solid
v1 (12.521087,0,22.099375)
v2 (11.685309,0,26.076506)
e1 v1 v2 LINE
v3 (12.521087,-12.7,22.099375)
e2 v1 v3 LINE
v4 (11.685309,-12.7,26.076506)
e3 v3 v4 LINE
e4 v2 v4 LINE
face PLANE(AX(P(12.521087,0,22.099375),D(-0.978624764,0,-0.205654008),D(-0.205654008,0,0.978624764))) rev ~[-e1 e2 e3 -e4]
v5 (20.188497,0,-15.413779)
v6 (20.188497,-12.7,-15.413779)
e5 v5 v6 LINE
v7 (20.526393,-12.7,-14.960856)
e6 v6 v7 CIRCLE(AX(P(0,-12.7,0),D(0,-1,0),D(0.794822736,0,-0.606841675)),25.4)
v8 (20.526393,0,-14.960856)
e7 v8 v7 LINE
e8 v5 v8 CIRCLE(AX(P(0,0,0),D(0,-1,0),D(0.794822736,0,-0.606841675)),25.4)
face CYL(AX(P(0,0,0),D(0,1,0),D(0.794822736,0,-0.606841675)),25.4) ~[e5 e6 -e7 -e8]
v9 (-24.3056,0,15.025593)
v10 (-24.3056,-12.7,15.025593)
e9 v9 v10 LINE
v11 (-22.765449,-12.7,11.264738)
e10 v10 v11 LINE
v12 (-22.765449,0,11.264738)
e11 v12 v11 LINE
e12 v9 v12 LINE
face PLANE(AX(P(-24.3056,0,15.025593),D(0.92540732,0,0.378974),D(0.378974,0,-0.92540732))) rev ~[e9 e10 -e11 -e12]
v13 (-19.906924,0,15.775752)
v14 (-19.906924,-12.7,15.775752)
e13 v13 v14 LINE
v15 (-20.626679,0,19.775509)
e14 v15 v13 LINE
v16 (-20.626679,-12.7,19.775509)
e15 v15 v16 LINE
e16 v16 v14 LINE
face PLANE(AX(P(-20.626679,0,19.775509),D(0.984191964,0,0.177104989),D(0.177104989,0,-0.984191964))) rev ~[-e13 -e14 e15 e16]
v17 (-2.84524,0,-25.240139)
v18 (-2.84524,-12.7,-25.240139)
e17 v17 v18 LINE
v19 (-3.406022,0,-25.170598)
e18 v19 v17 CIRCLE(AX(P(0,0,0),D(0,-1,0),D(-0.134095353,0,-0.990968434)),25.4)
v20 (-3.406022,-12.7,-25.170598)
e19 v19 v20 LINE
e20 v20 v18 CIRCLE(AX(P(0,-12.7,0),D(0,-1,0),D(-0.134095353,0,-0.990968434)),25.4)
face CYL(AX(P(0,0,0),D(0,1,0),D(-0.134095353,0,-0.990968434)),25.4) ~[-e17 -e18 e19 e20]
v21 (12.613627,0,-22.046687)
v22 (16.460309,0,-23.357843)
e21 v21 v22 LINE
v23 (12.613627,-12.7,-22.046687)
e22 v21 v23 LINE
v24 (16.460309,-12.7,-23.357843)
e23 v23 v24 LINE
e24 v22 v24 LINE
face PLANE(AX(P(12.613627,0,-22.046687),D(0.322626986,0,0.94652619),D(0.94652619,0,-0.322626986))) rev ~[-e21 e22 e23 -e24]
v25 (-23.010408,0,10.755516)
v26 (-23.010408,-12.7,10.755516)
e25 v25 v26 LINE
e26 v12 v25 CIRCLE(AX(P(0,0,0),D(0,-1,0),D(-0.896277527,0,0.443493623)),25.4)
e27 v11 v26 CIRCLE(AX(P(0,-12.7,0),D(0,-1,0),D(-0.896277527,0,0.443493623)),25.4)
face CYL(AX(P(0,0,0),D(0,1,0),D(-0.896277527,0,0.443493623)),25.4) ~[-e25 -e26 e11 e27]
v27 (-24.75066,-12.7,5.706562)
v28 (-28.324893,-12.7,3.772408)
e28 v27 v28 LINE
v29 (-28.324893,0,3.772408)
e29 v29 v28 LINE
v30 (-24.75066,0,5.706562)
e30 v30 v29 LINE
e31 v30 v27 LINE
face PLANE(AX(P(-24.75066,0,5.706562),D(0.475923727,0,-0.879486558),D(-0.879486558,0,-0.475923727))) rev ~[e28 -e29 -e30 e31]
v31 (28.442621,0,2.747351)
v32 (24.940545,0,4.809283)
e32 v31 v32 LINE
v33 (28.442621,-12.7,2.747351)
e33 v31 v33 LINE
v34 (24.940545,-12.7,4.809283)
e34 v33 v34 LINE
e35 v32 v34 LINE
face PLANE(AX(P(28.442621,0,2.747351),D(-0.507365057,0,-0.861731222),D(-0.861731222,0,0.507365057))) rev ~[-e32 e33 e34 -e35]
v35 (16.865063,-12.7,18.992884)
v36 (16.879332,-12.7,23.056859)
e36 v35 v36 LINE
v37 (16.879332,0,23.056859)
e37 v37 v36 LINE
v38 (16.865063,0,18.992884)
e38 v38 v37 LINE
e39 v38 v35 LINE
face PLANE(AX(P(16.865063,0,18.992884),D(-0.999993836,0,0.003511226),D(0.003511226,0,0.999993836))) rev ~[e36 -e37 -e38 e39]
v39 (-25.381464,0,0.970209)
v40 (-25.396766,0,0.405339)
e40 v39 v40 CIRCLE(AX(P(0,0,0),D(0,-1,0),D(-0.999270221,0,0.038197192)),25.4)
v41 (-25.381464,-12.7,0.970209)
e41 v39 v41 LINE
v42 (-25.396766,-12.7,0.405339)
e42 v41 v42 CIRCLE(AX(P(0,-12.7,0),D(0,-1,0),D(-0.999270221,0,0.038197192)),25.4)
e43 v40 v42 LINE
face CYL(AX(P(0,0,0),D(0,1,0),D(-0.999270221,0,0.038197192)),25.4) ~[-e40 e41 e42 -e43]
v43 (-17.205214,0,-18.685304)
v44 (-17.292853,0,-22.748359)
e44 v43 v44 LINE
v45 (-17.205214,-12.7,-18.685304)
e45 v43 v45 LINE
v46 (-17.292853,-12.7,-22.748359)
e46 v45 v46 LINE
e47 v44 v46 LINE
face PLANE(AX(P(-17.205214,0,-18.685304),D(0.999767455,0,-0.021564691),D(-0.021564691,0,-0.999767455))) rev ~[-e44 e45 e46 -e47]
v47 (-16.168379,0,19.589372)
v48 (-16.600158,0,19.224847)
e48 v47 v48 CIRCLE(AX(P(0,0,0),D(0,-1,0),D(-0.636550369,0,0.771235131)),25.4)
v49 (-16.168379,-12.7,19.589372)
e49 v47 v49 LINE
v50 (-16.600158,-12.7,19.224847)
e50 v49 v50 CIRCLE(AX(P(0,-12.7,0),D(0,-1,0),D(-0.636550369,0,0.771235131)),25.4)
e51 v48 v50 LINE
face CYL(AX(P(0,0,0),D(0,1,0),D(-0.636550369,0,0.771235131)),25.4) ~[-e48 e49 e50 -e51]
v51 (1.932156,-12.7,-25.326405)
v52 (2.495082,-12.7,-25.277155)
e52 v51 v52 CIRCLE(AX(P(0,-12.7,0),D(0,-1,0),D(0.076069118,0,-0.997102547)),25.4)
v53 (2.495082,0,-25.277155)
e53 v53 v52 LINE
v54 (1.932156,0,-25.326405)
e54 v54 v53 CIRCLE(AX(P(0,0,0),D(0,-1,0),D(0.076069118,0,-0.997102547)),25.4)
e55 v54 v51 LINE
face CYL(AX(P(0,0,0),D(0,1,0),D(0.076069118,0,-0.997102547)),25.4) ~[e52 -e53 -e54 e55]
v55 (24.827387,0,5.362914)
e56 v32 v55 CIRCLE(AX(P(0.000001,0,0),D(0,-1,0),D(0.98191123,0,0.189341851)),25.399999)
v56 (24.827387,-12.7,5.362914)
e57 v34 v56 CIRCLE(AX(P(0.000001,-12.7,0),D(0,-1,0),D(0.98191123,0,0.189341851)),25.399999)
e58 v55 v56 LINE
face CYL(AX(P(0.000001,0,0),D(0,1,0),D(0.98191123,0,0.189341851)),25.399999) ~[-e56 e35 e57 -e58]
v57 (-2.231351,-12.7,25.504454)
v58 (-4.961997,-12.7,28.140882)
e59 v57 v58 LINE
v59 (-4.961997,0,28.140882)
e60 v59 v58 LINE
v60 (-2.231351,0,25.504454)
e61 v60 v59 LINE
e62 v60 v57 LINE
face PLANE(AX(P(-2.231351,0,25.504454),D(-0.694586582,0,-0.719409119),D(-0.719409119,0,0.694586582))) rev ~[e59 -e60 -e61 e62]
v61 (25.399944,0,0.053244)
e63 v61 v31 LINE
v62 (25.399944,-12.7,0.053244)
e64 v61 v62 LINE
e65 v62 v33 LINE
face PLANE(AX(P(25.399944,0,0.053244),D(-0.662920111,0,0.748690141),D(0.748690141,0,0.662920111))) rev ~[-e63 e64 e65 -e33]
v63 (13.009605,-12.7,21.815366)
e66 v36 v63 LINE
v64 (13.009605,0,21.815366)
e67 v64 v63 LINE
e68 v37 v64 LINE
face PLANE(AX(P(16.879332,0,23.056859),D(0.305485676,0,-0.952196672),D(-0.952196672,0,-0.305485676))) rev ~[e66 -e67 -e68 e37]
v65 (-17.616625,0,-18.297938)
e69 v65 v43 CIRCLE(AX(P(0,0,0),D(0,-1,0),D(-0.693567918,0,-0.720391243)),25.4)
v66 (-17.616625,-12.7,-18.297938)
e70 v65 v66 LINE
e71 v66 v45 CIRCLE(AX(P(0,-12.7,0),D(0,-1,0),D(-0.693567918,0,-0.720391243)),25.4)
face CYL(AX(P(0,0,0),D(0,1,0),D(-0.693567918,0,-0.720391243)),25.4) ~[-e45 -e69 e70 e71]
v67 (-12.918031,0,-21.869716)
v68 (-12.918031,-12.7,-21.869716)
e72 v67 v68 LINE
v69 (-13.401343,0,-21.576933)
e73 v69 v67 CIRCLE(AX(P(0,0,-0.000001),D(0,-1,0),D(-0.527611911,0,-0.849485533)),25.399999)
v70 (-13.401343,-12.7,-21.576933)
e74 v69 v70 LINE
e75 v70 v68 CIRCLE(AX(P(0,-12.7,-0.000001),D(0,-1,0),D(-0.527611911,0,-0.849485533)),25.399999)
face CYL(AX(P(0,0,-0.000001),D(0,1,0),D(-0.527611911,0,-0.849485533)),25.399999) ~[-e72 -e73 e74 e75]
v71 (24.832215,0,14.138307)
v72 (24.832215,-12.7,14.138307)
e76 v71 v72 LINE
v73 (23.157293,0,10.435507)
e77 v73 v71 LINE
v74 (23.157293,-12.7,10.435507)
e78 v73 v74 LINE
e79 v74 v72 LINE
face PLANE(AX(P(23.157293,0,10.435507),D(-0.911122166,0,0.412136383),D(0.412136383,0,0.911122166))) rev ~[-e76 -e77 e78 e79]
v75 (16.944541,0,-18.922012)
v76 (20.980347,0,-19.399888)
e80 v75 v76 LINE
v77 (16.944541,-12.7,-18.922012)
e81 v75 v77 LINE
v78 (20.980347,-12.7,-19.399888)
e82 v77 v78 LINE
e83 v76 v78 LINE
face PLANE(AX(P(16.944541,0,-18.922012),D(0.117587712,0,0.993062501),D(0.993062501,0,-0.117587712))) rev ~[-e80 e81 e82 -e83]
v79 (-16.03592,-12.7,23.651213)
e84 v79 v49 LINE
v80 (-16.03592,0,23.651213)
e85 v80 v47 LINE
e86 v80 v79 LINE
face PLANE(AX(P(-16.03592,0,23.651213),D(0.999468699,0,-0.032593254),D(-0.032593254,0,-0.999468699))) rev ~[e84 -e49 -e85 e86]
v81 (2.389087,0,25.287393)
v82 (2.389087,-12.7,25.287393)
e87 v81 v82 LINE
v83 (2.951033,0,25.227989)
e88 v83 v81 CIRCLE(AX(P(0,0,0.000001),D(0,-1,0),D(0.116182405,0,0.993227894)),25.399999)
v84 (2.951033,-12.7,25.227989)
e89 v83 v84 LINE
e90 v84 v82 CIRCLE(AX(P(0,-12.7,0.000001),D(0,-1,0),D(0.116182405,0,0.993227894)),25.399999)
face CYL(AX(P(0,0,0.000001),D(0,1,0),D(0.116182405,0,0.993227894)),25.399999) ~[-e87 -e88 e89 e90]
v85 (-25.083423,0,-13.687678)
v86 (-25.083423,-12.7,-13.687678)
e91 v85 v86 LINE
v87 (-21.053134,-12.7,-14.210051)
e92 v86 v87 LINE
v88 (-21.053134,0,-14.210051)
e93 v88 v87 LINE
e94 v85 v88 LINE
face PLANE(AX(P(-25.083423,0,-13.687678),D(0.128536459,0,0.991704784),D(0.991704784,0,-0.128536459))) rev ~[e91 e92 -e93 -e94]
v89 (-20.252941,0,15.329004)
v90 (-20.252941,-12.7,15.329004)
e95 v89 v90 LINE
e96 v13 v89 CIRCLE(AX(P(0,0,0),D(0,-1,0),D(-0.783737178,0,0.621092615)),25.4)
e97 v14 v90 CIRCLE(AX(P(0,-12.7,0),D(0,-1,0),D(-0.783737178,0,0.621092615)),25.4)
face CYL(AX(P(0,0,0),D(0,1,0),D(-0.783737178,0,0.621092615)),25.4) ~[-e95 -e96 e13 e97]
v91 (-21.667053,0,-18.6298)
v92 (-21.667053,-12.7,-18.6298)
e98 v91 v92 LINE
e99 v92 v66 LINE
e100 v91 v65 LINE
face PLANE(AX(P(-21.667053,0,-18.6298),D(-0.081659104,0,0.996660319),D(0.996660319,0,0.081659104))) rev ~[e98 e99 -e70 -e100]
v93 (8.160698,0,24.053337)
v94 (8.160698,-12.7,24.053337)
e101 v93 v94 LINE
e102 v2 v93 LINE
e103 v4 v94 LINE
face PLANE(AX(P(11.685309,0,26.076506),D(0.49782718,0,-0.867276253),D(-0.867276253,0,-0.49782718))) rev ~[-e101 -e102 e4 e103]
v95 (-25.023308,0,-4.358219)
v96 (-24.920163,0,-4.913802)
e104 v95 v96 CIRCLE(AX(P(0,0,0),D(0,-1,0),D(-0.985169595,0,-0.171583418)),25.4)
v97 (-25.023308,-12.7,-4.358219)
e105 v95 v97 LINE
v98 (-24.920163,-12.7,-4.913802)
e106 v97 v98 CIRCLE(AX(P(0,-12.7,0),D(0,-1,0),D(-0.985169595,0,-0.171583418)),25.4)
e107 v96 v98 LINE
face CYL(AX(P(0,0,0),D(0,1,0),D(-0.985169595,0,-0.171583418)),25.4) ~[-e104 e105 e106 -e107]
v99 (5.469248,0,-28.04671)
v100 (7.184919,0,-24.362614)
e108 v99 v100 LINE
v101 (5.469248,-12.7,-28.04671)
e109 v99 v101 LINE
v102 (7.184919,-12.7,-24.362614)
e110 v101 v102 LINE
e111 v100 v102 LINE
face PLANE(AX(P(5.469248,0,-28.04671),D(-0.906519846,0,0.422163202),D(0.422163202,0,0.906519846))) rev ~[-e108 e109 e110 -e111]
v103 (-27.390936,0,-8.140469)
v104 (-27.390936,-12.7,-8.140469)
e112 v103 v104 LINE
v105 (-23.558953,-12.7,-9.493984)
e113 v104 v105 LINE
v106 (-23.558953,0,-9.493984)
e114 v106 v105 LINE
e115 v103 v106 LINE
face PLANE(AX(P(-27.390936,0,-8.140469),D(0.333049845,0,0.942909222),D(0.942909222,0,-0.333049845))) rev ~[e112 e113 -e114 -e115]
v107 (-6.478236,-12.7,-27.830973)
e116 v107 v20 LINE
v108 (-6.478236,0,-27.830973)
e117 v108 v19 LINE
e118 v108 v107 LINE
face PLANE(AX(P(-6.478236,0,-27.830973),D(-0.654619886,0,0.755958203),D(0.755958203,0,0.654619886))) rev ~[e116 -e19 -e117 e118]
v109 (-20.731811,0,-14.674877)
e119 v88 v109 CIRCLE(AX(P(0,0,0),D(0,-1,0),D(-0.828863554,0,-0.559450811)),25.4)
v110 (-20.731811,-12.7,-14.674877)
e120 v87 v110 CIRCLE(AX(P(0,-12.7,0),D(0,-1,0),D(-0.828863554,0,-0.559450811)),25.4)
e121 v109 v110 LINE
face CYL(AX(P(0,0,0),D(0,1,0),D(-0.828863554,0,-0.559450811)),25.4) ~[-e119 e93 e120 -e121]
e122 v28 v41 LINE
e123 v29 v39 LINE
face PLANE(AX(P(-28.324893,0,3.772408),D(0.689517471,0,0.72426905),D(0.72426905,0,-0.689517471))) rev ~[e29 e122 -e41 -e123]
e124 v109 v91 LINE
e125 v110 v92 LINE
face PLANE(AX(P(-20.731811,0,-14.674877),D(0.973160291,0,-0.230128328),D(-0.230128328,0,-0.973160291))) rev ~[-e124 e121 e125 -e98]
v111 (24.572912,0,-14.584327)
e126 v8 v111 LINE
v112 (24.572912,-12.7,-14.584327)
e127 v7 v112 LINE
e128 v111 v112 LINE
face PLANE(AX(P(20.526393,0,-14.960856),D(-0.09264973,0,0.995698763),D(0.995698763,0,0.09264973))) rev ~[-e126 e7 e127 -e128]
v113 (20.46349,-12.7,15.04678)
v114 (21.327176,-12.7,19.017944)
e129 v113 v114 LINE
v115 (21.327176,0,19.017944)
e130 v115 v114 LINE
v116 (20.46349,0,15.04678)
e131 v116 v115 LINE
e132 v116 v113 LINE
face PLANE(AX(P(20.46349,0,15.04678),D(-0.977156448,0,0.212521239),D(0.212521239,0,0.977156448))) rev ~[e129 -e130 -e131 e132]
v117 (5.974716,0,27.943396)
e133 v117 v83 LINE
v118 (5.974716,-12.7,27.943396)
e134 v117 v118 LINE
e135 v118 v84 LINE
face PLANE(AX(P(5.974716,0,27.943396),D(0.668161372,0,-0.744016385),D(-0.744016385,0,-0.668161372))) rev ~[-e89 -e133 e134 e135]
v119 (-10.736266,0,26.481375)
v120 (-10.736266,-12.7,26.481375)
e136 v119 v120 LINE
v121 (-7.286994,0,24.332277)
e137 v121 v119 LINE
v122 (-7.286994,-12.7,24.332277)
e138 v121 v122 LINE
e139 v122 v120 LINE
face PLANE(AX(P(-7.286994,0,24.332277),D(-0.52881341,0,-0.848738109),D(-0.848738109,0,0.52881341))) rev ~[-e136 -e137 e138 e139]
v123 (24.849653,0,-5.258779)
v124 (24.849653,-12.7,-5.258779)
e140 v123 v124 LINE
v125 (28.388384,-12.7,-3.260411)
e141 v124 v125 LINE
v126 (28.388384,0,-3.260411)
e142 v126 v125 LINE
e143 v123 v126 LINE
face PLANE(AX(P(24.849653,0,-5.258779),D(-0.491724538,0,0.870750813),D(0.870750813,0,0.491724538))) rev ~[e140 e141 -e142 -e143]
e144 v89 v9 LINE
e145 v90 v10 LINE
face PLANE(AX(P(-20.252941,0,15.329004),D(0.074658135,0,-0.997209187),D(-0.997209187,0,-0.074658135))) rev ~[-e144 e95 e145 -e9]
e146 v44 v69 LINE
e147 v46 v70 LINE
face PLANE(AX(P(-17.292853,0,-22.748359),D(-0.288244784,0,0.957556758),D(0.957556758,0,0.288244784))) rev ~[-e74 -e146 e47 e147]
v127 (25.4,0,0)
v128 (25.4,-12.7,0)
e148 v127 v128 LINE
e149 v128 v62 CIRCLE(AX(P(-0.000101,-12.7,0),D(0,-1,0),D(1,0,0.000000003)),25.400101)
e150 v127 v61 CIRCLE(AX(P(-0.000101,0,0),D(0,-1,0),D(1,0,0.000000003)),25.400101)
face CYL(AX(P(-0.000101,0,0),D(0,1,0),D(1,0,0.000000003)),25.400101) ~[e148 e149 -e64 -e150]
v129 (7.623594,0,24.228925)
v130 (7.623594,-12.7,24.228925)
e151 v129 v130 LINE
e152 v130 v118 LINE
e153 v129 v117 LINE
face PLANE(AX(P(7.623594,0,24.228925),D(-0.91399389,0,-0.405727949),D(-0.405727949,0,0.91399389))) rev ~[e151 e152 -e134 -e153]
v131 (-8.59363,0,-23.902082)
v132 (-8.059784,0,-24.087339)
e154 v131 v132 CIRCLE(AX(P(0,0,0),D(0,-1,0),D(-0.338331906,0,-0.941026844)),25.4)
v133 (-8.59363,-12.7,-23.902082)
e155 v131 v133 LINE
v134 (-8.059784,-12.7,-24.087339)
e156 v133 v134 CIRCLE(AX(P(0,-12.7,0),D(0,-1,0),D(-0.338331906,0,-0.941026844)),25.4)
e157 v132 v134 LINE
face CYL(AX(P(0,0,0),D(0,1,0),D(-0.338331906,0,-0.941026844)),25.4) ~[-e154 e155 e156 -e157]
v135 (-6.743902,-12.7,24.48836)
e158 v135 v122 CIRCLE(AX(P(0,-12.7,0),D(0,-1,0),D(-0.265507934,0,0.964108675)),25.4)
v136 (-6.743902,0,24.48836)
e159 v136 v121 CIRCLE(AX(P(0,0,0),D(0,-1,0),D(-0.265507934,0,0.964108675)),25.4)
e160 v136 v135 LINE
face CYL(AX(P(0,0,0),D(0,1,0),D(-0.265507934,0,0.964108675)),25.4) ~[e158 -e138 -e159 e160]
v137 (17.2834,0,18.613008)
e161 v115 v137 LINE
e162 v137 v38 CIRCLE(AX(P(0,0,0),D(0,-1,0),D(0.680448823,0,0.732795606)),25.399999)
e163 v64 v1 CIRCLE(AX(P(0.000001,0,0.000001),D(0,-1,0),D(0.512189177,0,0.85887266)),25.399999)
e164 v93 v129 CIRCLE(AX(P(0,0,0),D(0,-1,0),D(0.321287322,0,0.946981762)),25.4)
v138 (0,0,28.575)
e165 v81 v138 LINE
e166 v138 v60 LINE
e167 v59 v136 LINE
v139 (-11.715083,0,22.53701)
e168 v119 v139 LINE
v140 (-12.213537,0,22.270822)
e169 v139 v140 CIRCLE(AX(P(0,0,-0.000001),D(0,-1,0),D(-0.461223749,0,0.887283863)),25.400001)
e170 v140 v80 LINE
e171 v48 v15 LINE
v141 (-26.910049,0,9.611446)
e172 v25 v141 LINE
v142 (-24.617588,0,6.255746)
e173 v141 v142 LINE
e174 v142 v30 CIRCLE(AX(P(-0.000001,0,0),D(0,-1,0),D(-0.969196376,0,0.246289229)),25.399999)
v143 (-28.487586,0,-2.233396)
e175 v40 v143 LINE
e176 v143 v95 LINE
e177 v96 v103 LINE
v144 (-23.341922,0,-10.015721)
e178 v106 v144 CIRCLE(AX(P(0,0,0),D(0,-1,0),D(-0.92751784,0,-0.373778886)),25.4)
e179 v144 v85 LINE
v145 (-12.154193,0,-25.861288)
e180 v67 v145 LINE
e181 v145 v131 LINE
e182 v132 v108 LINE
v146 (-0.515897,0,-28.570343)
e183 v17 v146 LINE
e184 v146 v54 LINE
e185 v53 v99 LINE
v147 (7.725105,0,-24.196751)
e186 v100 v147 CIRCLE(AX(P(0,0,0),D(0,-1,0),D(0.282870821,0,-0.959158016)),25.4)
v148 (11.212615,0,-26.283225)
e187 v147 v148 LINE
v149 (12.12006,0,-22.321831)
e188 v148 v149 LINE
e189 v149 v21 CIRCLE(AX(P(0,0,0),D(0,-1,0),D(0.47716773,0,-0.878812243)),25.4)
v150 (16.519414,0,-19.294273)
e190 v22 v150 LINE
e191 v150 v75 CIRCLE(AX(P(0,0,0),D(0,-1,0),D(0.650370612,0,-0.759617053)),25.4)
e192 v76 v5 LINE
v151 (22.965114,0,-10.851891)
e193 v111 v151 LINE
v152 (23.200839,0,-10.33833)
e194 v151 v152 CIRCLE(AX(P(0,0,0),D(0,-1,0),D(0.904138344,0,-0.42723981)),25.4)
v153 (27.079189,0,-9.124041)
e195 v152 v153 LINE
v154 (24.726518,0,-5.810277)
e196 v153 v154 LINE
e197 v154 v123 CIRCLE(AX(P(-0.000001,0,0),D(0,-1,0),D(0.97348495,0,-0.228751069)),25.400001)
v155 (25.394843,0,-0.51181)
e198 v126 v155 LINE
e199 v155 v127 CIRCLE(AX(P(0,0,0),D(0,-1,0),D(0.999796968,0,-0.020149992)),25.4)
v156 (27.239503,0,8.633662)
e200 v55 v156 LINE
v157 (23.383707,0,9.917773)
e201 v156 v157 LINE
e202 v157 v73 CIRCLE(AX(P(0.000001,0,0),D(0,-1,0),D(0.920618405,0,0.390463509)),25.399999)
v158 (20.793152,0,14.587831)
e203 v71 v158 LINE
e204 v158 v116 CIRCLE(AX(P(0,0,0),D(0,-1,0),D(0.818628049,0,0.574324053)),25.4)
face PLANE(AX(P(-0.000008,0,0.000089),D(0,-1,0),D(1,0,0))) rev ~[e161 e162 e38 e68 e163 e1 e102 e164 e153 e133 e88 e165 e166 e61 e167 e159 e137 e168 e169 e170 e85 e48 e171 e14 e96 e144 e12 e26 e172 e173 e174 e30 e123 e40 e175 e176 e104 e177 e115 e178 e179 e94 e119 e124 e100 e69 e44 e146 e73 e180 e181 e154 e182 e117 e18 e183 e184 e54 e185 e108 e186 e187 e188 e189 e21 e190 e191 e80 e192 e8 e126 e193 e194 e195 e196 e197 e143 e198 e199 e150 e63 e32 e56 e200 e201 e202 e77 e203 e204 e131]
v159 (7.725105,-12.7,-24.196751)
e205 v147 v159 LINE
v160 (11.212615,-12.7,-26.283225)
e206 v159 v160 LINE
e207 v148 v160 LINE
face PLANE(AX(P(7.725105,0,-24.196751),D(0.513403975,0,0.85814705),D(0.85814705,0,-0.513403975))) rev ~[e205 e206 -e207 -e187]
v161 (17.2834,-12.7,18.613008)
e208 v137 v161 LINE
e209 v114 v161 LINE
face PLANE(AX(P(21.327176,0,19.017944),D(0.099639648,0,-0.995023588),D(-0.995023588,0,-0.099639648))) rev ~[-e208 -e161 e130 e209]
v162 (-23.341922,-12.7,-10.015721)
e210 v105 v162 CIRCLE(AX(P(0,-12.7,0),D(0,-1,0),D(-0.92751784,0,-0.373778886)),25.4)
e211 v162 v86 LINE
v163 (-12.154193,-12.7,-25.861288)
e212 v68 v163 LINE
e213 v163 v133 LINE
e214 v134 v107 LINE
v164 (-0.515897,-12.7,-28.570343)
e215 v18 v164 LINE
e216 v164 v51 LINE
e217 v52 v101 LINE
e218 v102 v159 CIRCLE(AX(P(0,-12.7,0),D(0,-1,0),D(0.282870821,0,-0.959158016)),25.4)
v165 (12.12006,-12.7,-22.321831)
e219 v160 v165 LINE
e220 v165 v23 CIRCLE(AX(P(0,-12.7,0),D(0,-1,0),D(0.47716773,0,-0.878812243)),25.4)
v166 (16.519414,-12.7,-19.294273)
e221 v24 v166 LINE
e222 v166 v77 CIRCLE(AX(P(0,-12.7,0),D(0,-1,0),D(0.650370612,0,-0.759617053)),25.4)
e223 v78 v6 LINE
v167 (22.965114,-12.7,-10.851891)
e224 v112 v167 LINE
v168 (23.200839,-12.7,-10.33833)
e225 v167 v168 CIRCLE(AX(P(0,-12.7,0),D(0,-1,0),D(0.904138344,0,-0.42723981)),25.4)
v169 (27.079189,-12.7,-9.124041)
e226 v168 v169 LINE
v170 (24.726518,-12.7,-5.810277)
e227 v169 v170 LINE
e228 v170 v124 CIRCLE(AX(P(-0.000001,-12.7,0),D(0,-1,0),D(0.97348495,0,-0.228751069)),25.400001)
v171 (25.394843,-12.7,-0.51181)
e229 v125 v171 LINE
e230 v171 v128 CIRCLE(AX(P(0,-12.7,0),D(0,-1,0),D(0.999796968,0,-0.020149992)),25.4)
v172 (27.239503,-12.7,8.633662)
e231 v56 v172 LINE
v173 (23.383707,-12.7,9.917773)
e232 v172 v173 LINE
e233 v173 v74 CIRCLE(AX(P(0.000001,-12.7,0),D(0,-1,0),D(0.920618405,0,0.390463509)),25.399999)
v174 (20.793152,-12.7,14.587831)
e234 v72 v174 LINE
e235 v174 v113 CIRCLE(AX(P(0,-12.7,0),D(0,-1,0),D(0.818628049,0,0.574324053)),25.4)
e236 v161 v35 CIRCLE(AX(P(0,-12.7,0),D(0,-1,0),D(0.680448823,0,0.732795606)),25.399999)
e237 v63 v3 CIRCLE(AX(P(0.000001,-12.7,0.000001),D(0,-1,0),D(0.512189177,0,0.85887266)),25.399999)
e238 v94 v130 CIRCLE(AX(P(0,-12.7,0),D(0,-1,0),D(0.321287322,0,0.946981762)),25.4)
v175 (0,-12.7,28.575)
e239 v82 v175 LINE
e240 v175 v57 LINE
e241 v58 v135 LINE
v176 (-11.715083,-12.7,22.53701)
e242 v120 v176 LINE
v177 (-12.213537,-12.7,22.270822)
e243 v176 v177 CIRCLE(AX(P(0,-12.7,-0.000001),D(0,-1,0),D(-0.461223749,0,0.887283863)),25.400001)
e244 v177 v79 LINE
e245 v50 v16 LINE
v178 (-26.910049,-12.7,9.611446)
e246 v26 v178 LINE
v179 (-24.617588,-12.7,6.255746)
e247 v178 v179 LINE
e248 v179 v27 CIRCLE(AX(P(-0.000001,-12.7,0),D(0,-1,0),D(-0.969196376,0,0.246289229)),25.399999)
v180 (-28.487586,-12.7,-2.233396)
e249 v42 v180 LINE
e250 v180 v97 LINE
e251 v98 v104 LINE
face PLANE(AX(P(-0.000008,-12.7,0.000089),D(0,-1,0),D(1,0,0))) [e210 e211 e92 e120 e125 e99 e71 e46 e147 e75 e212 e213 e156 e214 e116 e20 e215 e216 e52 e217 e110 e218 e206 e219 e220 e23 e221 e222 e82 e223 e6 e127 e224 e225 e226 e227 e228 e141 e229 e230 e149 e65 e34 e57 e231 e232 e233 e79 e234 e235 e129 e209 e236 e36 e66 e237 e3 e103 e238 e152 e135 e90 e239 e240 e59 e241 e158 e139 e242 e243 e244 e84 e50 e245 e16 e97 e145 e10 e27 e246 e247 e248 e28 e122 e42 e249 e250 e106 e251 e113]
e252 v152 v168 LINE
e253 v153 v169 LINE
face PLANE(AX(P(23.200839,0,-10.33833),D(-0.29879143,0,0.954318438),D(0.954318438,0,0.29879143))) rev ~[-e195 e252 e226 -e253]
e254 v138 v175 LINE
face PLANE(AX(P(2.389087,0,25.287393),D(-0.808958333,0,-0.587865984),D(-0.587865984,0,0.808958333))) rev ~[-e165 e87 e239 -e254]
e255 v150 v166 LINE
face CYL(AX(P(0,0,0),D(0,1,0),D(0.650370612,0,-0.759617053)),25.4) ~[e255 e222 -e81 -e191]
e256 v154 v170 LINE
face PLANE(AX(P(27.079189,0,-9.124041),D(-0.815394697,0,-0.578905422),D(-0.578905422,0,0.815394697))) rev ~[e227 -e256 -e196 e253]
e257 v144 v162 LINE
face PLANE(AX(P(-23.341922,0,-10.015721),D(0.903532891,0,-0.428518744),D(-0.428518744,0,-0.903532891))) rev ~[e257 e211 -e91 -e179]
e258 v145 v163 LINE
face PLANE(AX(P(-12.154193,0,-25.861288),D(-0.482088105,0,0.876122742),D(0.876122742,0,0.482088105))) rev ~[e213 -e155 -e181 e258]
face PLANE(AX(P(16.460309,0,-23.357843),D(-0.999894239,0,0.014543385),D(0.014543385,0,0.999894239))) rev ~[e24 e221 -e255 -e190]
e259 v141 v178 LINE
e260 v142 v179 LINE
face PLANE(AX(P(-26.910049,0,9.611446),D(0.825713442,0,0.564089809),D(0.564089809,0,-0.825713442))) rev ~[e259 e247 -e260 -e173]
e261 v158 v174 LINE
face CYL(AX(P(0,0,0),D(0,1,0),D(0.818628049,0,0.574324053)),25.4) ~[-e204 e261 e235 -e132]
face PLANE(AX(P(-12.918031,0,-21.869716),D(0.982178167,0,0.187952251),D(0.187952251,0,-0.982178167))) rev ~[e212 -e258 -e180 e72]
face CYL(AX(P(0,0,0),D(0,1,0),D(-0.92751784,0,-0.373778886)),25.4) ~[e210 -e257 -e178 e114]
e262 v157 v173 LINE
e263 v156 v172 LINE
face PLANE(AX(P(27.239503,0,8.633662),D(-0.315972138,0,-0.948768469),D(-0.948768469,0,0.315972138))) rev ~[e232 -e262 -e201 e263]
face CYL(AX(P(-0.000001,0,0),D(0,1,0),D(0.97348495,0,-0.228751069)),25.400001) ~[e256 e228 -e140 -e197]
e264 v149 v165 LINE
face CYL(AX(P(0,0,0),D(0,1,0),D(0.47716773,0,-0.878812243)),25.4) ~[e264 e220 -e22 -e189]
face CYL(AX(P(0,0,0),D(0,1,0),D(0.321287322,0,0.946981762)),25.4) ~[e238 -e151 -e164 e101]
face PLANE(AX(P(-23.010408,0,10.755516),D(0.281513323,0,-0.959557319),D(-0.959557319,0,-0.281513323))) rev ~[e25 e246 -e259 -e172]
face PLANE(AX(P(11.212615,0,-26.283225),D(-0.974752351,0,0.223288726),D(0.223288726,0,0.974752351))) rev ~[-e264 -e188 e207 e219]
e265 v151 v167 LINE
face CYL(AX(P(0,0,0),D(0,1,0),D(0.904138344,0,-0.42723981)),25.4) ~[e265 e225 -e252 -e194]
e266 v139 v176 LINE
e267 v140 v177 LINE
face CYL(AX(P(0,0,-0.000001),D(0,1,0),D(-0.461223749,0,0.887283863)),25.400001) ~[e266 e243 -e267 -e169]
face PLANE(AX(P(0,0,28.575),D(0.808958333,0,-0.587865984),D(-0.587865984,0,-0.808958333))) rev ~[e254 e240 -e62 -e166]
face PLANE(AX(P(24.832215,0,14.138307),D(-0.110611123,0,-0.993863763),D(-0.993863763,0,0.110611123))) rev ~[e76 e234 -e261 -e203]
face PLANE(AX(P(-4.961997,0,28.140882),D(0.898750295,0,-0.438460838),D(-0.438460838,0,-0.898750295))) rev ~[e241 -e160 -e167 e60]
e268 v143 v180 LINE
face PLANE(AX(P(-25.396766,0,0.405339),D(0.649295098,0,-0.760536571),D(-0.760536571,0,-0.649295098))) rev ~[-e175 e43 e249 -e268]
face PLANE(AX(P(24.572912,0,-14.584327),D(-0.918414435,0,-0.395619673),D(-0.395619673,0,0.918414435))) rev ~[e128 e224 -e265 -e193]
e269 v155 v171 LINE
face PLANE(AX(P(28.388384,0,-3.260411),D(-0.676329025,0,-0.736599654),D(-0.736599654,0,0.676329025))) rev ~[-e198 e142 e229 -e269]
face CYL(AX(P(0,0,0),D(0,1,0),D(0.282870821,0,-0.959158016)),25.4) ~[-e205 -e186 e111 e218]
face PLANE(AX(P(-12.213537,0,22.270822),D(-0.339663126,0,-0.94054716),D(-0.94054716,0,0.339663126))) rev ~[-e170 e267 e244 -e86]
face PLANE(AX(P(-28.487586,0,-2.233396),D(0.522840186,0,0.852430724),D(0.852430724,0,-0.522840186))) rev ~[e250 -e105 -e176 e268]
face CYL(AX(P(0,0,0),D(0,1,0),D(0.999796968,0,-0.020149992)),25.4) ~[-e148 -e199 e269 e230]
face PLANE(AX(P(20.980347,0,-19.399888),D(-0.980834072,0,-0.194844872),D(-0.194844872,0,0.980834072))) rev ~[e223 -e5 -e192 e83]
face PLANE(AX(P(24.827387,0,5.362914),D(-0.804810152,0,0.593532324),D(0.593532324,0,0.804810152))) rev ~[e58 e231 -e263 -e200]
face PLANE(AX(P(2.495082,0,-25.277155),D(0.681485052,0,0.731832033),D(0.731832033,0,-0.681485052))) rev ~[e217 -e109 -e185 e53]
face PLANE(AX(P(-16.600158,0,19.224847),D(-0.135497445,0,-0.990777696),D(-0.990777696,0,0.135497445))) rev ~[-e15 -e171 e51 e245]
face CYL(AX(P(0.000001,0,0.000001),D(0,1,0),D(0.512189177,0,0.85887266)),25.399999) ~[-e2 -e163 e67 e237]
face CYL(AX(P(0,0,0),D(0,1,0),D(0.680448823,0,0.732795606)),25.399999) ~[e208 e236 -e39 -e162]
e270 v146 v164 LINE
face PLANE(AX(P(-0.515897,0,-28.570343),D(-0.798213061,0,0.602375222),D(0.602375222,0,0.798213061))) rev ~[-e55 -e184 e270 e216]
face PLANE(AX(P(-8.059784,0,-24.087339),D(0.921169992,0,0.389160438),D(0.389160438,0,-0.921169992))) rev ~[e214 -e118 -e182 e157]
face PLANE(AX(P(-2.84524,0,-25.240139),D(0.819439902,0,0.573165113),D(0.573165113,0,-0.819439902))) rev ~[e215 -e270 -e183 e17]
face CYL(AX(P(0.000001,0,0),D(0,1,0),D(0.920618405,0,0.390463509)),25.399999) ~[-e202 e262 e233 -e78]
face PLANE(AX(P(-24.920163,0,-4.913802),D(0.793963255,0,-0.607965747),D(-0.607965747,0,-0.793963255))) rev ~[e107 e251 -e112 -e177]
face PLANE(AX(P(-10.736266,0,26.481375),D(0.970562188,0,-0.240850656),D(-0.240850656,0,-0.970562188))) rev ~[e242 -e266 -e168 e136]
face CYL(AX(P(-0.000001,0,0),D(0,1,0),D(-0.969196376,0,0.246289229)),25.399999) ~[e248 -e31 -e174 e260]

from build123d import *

# Parameters (mm, degrees)
F1_DEPTH = 12.7


with BuildPart() as f1:
    # F0 (on Front) → F1 (new body)
    with BuildSketch(Plane.XZ):
        with BuildLine():
            ThreePointArc((25.3948429948, -0.5118097985), (25.398710716, -0.2559178894), (25.4, 0))
            ThreePointArc((25.4, 0), (25.3999860485, 0.0266220613), (25.3999441942, 0.0532440933))
            ThreePointArc((25.3999441942, 0.0532440933), (25.2823297123, 2.4420901537), (24.9405452403, 4.8092830148))
            ThreePointArc((24.9405452403, 4.8092830148), (24.8855058459, 5.0864131562), (24.8273871825, 5.3629139178))
            ThreePointArc((24.8273871825, 5.3629139178), (24.2128911527, 7.6743665555), (23.383707488, 9.917773143))
            ThreePointArc((23.383707488, 9.917773143), (23.2719398097, 10.1772696484), (23.1572925209, 10.4355068444))
            ThreePointArc((23.1572925209, 10.4355068444), (22.0730798045, 12.5673842921), (20.7931524471, 14.5878309324))
            ThreePointArc((20.7931524471, 14.5878309324), (20.6295973686, 14.8182223093), (20.4634896365, 15.0467801172))
            ThreePointArc((20.4634896365, 15.0467801172), (18.9574897343, 16.9048390402), (17.2834000897, 18.6130083903))
            ThreePointArc((17.2834000897, 18.6130083903), (17.0752878467, 18.8041097889), (16.8650627512, 18.9928844149))
            ThreePointArc((16.8650627512, 18.9928844149), (15.0038509972, 20.4949861004), (13.0096050977, 21.8153655757))
            ThreePointArc((13.0096050977, 21.8153655757), (12.7661356522, 21.9587290277), (12.5210865577, 22.0993753625))
            ThreePointArc((12.5210865577, 22.0993753625), (10.386941041, 23.1791168039), (8.1606979804, 24.053336743))
            ThreePointArc((8.1606979804, 24.053336743), (7.892634321, 24.1426246186), (7.6235940472, 24.2289251475))
            ThreePointArc((7.6235940472, 24.2289251475), (5.3108583666, 24.8385745044), (2.9510330751, 25.2279885007))
            ThreePointArc((2.9510330751, 25.2279885007), (2.6702254201, 25.2592536748), (2.3890873582, 25.2873933333))
            ThreePointArc((2.3890873582, 25.2873933333), (0.1760546114, 25.3993898504), (-2.0383180173, 25.3180816742))
            ThreePointArc((-2.0383180173, 25.3180816742), (-2.2137558658, 25.3033453315), (-2.3890873582, 25.2873933333))
            ThreePointArc((-2.3890873582, 25.2873933333), (-4.5839377077, 24.982944484), (-6.7439015233, 24.4883603421))
            ThreePointArc((-6.7439015233, 24.4883603421), (-7.0158820659, 24.411829076), (-7.2869944811, 24.3322771526))
            ThreePointArc((-7.2869944811, 24.3322771526), (-9.5433476931, 23.5389998685), (-11.7150832222, 22.5370101189))
            ThreePointArc((-11.7150832222, 22.5370101189), (-11.9650502401, 22.4053023356), (-12.2135367333, 22.2708221775))
            ThreePointArc((-12.2135367333, 22.2708221775), (-14.2541514602, 21.0233005532), (-16.1683793774, 19.5893723306))
            ThreePointArc((-16.1683793774, 19.5893723306), (-16.3852826458, 19.4083104009), (-16.6001584412, 19.2248469364))
            ThreePointArc((-16.6001584412, 19.2248469364), (-18.3348257747, 17.5782298259), (-19.9069243197, 15.7757524109))
            ThreePointArc((-19.9069243197, 15.7757524109), (-20.0811752538, 15.5533404909), (-20.2529413947, 15.3290040402))
            ThreePointArc((-20.2529413947, 15.3290040402), (-21.604977361, 13.3560830047), (-22.7654491948, 11.2647380332))
            ThreePointArc((-22.7654491948, 11.2647380332), (-22.8893447304, 11.010808227), (-23.010407997, 10.7555159715))
            ThreePointArc((-23.010407997, 10.7555159715), (-23.9200435047, 8.5435074024), (-24.61758796, 6.255746401))
            ThreePointArc((-24.61758796, 6.255746401), (-24.6856510803, 5.9815241155), (-24.7506596611, 5.7065616914))
            ThreePointArc((-24.7506596611, 5.7065616914), (-25.1776826971, 3.3532512586), (-25.3814636132, 0.9702086645))
            ThreePointArc((-25.3814636132, 0.9702086645), (-25.3906854701, 0.6878163708), (-25.3967655484, 0.4053389684))
            ThreePointArc((-25.3967655484, 0.4053389684), (-25.3222988198, -1.9852411648), (-25.0233077083, -4.3582188263))
            ThreePointArc((-25.0233077083, -4.3582188263), (-24.9732806336, -4.6362974879), (-24.920163429, -4.9138024658))
            ThreePointArc((-24.920163429, -4.9138024658), (-24.3474988664, -7.2359725641), (-23.5589531473, -9.4939837057))
            ThreePointArc((-23.5589531473, -9.4939837057), (-23.4518886745, -9.7554557863), (-23.341922325, -10.0157207516))
            ThreePointArc((-23.341922325, -10.0157207516), (-22.2963755574, -12.166825264), (-21.0531342598, -14.2100505924))
            ThreePointArc((-21.0531342598, -14.2100505924), (-20.8937653594, -14.4433572658), (-20.7318111179, -14.674876755))
            ThreePointArc((-20.7318111179, -14.674876755), (-19.2596023508, -16.5598223809), (-17.6166251096, -18.2979375818))
            ThreePointArc((-17.6166251096, -18.2979375818), (-17.4119969598, -18.4927651224), (-17.2052142941, -18.6853044154))
            ThreePointArc((-17.2052142941, -18.6853044154), (-15.3714250659, -20.2207638689), (-13.4013425355, -21.5769325495))
            ThreePointArc((-13.4013425355, -21.5769325495), (-13.1605010782, -21.7246682684), (-12.918031174, -21.8697158323))
            ThreePointArc((-12.918031174, -21.8697158323), (-10.8037273136, -22.987811469), (-8.5936304044, -23.9020818439))
            ThreePointArc((-8.5936304044, -23.9020818439), (-8.3272224532, -23.9961948278), (-8.0597841127, -24.0873385839))
            ThreePointArc((-8.0597841127, -24.0873385839), (-5.7584320841, -24.7386430496), (-3.4060219576, -25.1705982135))
            ThreePointArc((-3.4060219576, -25.1705982135), (-3.1258245374, -25.206928035), (-2.8452403356, -25.2401388156))
            ThreePointArc((-2.8452403356, -25.2401388156), (-0.458575391, -25.3958600683), (1.9321555888, -25.3264046951))
            ThreePointArc((1.9321555888, -25.3264046951), (2.2137558658, -25.3033453315), (2.4950822182, -25.2771549966))
            ThreePointArc((2.4950822182, -25.2771549966), (4.8615534215, -24.9304091088), (7.1849188511, -24.3626135934))
            ThreePointArc((7.1849188511, -24.3626135934), (7.4554733568, -24.2811844239), (7.7251053413, -24.1967507626))
            ThreePointArc((7.7251053413, -24.1967507626), (9.9667688451, -23.3628662366), (12.1200603317, -22.3218309633))
            ThreePointArc((12.1200603317, -22.3218309633), (12.3676087357, -22.1856317052), (12.6136268034, -22.0466872537))
            ThreePointArc((12.6136268034, -22.0466872537), (14.63138599, -20.7625273994), (16.5194135542, -19.2942731354))
            ThreePointArc((16.5194135542, -19.2942731354), (16.7330125505, -19.1093247129), (16.9445410466, -18.9220117514))
            ThreePointArc((16.9445410466, -18.9220117514), (18.6491973766, -17.2443450791), (20.1884974899, -15.4137785471))
            ThreePointArc((20.1884974899, -15.4137785471), (20.358704565, -15.1882569255), (20.526392506, -14.9608559478))
            ThreePointArc((20.526392506, -14.9608559478), (21.842588694, -12.9638466185), (22.9651139288, -10.8518911824))
            ThreePointArc((22.9651139288, -10.8518911824), (23.0844047841, -10.5957659356), (23.2008392342, -10.3383295957))
            ThreePointArc((23.2008392342, -10.3383295957), (24.070390548, -8.1102588655), (24.7265177324, -5.8102771732))
            ThreePointArc((24.7265177324, -5.8102771732), (24.789618909, -5.5348707613), (24.8496526816, -5.2587794786))
            ThreePointArc((24.8496526816, -5.2587794786), (25.2341190995, -2.8981430728), (25.3948429948, -0.5118097985))
        make_face()
        with BuildLine():
            ThreePointArc((24.9405452403, 4.8092830148), (25.2823297123, 2.4420901537), (25.3999441942, 0.0532440933))
            Line((25.3999441942, 0.0532440933), (28.4426209263, 2.7473514229))
            Line((28.4426209263, 2.7473514229), (24.9405452403, 4.8092830148))
        make_face()
        with BuildLine():
            Line((28.388383987, -3.2604109569), (25.3948429948, -0.5118097985))
            ThreePointArc((25.3948429948, -0.5118097985), (25.2341190995, -2.8981430728), (24.8496526816, -5.2587794786))
            Line((24.8496526816, -5.2587794786), (28.388383987, -3.2604109569))
        make_face()
        with BuildLine():
            ThreePointArc((23.383707488, 9.917773143), (24.2128911527, 7.6743665555), (24.8273871825, 5.3629139178))
            Line((24.8273871825, 5.3629139178), (27.2395025468, 8.6336623749))
            Line((27.2395025468, 8.6336623749), (23.383707488, 9.917773143))
        make_face()
        with BuildLine():
            Line((27.0791893665, -9.1240412236), (24.7265177324, -5.8102771732))
            ThreePointArc((24.7265177324, -5.8102771732), (24.070390548, -8.1102588655), (23.2008392342, -10.3383295957))
            Line((23.2008392342, -10.3383295957), (27.0791893665, -9.1240412236))
        make_face()
        with BuildLine():
            ThreePointArc((20.7931524471, 14.5878309324), (22.0730798045, 12.5673842921), (23.1572925209, 10.4355068444))
            Line((23.1572925209, 10.4355068444), (24.83221478, 14.1383073286))
            Line((24.83221478, 14.1383073286), (20.7931524471, 14.5878309324))
        make_face()
        with BuildLine():
            Line((24.5729122807, -14.5843274458), (22.9651139288, -10.8518911824))
            ThreePointArc((22.9651139288, -10.8518911824), (21.842588694, -12.9638466185), (20.526392506, -14.9608559478))
            Line((20.526392506, -14.9608559478), (24.5729122807, -14.5843274458))
        make_face()
        with BuildLine():
            ThreePointArc((17.2834000897, 18.6130083903), (18.9574897343, 16.9048390402), (20.4634896365, 15.0467801172))
            Line((20.4634896365, 15.0467801172), (21.3271759511, 19.0179439202))
            Line((21.3271759511, 19.0179439202), (17.2834000897, 18.6130083903))
        make_face()
        with BuildLine():
            Line((20.9803470487, -19.399888214), (20.1884974899, -15.4137785471))
            ThreePointArc((20.1884974899, -15.4137785471), (18.6491973766, -17.2443450791), (16.9445410466, -18.9220117514))
            Line((16.9445410466, -18.9220117514), (20.9803470487, -19.399888214))
        make_face()
        with BuildLine():
            ThreePointArc((13.0096050977, 21.8153655757), (15.0038509972, 20.4949861004), (16.8650627512, 18.9928844149))
            Line((16.8650627512, 18.9928844149), (16.8793323718, 23.0568593629))
            Line((16.8793323718, 23.0568593629), (13.0096050977, 21.8153655757))
        make_face()
        with BuildLine():
            Line((16.4603092388, -23.3578433243), (16.5194135542, -19.2942731354))
            ThreePointArc((16.5194135542, -19.2942731354), (14.63138599, -20.7625273994), (12.6136268034, -22.0466872537))
            Line((12.6136268034, -22.0466872537), (16.4603092388, -23.3578433243))
        make_face()
        with BuildLine():
            ThreePointArc((8.1606979804, 24.053336743), (10.386941041, 23.1791168039), (12.5210865577, 22.0993753625))
            Line((12.5210865577, 22.0993753625), (11.6853086711, 26.0765064044))
            Line((11.6853086711, 26.0765064044), (8.1606979804, 24.053336743))
        make_face()
        with BuildLine():
            Line((11.2126149507, -26.2832245162), (12.1200603317, -22.3218309633))
            ThreePointArc((12.1200603317, -22.3218309633), (9.9667688451, -23.3628662366), (7.7251053413, -24.1967507626))
            Line((7.7251053413, -24.1967507626), (11.2126149507, -26.2832245162))
        make_face()
        with BuildLine():
            ThreePointArc((2.9510330751, 25.2279885007), (5.3108583666, 24.8385745044), (7.6235940472, 24.2289251475))
            Line((7.6235940472, 24.2289251475), (5.9747156624, 27.9433963174))
            Line((5.9747156624, 27.9433963174), (2.9510330751, 25.2279885007))
        make_face()
        with BuildLine():
            Line((5.4692475992, -28.0467102473), (7.1849188511, -24.3626135934))
            ThreePointArc((7.1849188511, -24.3626135934), (4.8615534215, -24.9304091088), (2.4950822182, -25.2771549966))
            Line((2.4950822182, -25.2771549966), (5.4692475992, -28.0467102473))
        make_face()
        with BuildLine():
            ThreePointArc((-2.0383180173, 25.3180816742), (0.1760546114, 25.3993898504), (2.3890873582, 25.2873933333))
            Line((2.3890873582, 25.2873933333), (0, 28.575))
            Line((0, 28.575), (-2.2313505794, 25.5044538287))
            Line((-2.2313505794, 25.5044538287), (-2.0383180173, 25.3180816742))
        make_face()
        with BuildLine():
            Line((-0.5158973148, -28.5703425769), (1.9321555888, -25.3264046951))
            ThreePointArc((1.9321555888, -25.3264046951), (-0.458575391, -25.3958600683), (-2.8452403356, -25.2401388156))
            Line((-2.8452403356, -25.2401388156), (-0.5158973148, -28.5703425769))
        make_face()
        with BuildLine():
            ThreePointArc((-2.3890873582, 25.2873933333), (-2.2137558658, 25.3033453315), (-2.0383180173, 25.3180816742))
            Line((-2.0383180173, 25.3180816742), (-2.2313505794, 25.5044538287))
            Line((-2.2313505794, 25.5044538287), (-2.3890873582, 25.2873933333))
        make_face()
        with BuildLine():
            ThreePointArc((-6.7439015233, 24.4883603421), (-4.5839377077, 24.982944484), (-2.3890873582, 25.2873933333))
            Line((-2.3890873582, 25.2873933333), (-2.2313505794, 25.5044538287))
            Line((-2.2313505794, 25.5044538287), (-4.9619966768, 28.1408815423))
            Line((-4.9619966768, 28.1408815423), (-6.7439015233, 24.4883603421))
        make_face()
        with BuildLine():
            Line((-6.4782360946, -27.8309734307), (-3.4060219576, -25.1705982135))
            ThreePointArc((-3.4060219576, -25.1705982135), (-5.7584320841, -24.7386430496), (-8.0597841127, -24.0873385839))
            Line((-8.0597841127, -24.0873385839), (-6.4782360946, -27.8309734307))
        make_face()
        with BuildLine():
            ThreePointArc((-11.7150832222, 22.5370101189), (-9.5433476931, 23.5389998685), (-7.2869944811, 24.3322771526))
            Line((-7.2869944811, 24.3322771526), (-10.7362661547, 26.481374852))
            Line((-10.7362661547, 26.481374852), (-11.7150832222, 22.5370101189))
        make_face()
        with BuildLine():
            Line((-12.1541932278, -25.8612879026), (-8.5936304044, -23.9020818439))
            ThreePointArc((-8.5936304044, -23.9020818439), (-10.8037273136, -22.987811469), (-12.918031174, -21.8697158323))
            Line((-12.918031174, -21.8697158323), (-12.1541932278, -25.8612879026))
        make_face()
        with BuildLine():
            ThreePointArc((-16.1683793774, 19.5893723306), (-14.2541514602, 21.0233005532), (-12.2135367333, 22.2708221775))
            Line((-12.2135367333, 22.2708221775), (-16.0359203927, 23.6512131223))
            Line((-16.0359203927, 23.6512131223), (-16.1683793774, 19.5893723306))
        make_face()
        with BuildLine():
            Line((-17.2928531992, -22.7483593525), (-13.4013425355, -21.5769325495))
            ThreePointArc((-13.4013425355, -21.5769325495), (-15.3714250659, -20.2207638689), (-17.2052142941, -18.6853044154))
            Line((-17.2052142941, -18.6853044154), (-17.2928531992, -22.7483593525))
        make_face()
        with BuildLine():
            ThreePointArc((-19.9069243197, 15.7757524109), (-18.3348257747, 17.5782298259), (-16.6001584412, 19.2248469364))
            Line((-16.6001584412, 19.2248469364), (-20.6266789965, 19.7755085541))
            Line((-20.6266789965, 19.7755085541), (-19.9069243197, 15.7757524109))
        make_face()
        with BuildLine():
            Line((-21.6670526447, -18.6298001786), (-17.6166251096, -18.2979375818))
            ThreePointArc((-17.6166251096, -18.2979375818), (-19.2596023508, -16.5598223809), (-20.7318111179, -14.674876755))
            Line((-20.7318111179, -14.674876755), (-21.6670526447, -18.6298001786))
        make_face()
        with BuildLine():
            ThreePointArc((-22.7654491948, 11.2647380332), (-21.604977361, 13.3560830047), (-20.2529413947, 15.3290040402))
            Line((-20.2529413947, 15.3290040402), (-24.3055995312, 15.0255933803))
            Line((-24.3055995312, 15.0255933803), (-22.7654491948, 11.2647380332))
        make_face()
        with BuildLine():
            Line((-25.083422502, -13.687678422), (-21.0531342598, -14.2100505924))
            ThreePointArc((-21.0531342598, -14.2100505924), (-22.2963755574, -12.166825264), (-23.341922325, -10.0157207516))
            Line((-23.341922325, -10.0157207516), (-25.083422502, -13.687678422))
        make_face()
        with BuildLine():
            ThreePointArc((-24.61758796, 6.255746401), (-23.9200435047, 8.5435074024), (-23.010407997, 10.7555159715))
            Line((-23.010407997, 10.7555159715), (-26.9100489427, 9.6114458277))
            Line((-26.9100489427, 9.6114458277), (-24.61758796, 6.255746401))
        make_face()
        with BuildLine():
            Line((-27.3909362247, -8.1404691347), (-23.5589531473, -9.4939837057))
            ThreePointArc((-23.5589531473, -9.4939837057), (-24.3474988664, -7.2359725641), (-24.920163429, -4.9138024658))
            Line((-24.920163429, -4.9138024658), (-27.3909362247, -8.1404691347))
        make_face()
        with BuildLine():
            ThreePointArc((-25.3814636132, 0.9702086645), (-25.1776826971, 3.3532512586), (-24.7506596611, 5.7065616914))
            Line((-24.7506596611, 5.7065616914), (-28.3248930343, 3.7724076659))
            Line((-28.3248930343, 3.7724076659), (-25.3814636132, 0.9702086645))
        make_face()
        with BuildLine():
            Line((-28.4875861722, -2.2333963104), (-25.0233077083, -4.3582188263))
            ThreePointArc((-25.0233077083, -4.3582188263), (-25.3222988198, -1.9852411648), (-25.3967655484, 0.4053389684))
            Line((-25.3967655484, 0.4053389684), (-28.4875861722, -2.2333963104))
        make_face()
    extrude(amount=F1_DEPTH)


solid = f1.part
